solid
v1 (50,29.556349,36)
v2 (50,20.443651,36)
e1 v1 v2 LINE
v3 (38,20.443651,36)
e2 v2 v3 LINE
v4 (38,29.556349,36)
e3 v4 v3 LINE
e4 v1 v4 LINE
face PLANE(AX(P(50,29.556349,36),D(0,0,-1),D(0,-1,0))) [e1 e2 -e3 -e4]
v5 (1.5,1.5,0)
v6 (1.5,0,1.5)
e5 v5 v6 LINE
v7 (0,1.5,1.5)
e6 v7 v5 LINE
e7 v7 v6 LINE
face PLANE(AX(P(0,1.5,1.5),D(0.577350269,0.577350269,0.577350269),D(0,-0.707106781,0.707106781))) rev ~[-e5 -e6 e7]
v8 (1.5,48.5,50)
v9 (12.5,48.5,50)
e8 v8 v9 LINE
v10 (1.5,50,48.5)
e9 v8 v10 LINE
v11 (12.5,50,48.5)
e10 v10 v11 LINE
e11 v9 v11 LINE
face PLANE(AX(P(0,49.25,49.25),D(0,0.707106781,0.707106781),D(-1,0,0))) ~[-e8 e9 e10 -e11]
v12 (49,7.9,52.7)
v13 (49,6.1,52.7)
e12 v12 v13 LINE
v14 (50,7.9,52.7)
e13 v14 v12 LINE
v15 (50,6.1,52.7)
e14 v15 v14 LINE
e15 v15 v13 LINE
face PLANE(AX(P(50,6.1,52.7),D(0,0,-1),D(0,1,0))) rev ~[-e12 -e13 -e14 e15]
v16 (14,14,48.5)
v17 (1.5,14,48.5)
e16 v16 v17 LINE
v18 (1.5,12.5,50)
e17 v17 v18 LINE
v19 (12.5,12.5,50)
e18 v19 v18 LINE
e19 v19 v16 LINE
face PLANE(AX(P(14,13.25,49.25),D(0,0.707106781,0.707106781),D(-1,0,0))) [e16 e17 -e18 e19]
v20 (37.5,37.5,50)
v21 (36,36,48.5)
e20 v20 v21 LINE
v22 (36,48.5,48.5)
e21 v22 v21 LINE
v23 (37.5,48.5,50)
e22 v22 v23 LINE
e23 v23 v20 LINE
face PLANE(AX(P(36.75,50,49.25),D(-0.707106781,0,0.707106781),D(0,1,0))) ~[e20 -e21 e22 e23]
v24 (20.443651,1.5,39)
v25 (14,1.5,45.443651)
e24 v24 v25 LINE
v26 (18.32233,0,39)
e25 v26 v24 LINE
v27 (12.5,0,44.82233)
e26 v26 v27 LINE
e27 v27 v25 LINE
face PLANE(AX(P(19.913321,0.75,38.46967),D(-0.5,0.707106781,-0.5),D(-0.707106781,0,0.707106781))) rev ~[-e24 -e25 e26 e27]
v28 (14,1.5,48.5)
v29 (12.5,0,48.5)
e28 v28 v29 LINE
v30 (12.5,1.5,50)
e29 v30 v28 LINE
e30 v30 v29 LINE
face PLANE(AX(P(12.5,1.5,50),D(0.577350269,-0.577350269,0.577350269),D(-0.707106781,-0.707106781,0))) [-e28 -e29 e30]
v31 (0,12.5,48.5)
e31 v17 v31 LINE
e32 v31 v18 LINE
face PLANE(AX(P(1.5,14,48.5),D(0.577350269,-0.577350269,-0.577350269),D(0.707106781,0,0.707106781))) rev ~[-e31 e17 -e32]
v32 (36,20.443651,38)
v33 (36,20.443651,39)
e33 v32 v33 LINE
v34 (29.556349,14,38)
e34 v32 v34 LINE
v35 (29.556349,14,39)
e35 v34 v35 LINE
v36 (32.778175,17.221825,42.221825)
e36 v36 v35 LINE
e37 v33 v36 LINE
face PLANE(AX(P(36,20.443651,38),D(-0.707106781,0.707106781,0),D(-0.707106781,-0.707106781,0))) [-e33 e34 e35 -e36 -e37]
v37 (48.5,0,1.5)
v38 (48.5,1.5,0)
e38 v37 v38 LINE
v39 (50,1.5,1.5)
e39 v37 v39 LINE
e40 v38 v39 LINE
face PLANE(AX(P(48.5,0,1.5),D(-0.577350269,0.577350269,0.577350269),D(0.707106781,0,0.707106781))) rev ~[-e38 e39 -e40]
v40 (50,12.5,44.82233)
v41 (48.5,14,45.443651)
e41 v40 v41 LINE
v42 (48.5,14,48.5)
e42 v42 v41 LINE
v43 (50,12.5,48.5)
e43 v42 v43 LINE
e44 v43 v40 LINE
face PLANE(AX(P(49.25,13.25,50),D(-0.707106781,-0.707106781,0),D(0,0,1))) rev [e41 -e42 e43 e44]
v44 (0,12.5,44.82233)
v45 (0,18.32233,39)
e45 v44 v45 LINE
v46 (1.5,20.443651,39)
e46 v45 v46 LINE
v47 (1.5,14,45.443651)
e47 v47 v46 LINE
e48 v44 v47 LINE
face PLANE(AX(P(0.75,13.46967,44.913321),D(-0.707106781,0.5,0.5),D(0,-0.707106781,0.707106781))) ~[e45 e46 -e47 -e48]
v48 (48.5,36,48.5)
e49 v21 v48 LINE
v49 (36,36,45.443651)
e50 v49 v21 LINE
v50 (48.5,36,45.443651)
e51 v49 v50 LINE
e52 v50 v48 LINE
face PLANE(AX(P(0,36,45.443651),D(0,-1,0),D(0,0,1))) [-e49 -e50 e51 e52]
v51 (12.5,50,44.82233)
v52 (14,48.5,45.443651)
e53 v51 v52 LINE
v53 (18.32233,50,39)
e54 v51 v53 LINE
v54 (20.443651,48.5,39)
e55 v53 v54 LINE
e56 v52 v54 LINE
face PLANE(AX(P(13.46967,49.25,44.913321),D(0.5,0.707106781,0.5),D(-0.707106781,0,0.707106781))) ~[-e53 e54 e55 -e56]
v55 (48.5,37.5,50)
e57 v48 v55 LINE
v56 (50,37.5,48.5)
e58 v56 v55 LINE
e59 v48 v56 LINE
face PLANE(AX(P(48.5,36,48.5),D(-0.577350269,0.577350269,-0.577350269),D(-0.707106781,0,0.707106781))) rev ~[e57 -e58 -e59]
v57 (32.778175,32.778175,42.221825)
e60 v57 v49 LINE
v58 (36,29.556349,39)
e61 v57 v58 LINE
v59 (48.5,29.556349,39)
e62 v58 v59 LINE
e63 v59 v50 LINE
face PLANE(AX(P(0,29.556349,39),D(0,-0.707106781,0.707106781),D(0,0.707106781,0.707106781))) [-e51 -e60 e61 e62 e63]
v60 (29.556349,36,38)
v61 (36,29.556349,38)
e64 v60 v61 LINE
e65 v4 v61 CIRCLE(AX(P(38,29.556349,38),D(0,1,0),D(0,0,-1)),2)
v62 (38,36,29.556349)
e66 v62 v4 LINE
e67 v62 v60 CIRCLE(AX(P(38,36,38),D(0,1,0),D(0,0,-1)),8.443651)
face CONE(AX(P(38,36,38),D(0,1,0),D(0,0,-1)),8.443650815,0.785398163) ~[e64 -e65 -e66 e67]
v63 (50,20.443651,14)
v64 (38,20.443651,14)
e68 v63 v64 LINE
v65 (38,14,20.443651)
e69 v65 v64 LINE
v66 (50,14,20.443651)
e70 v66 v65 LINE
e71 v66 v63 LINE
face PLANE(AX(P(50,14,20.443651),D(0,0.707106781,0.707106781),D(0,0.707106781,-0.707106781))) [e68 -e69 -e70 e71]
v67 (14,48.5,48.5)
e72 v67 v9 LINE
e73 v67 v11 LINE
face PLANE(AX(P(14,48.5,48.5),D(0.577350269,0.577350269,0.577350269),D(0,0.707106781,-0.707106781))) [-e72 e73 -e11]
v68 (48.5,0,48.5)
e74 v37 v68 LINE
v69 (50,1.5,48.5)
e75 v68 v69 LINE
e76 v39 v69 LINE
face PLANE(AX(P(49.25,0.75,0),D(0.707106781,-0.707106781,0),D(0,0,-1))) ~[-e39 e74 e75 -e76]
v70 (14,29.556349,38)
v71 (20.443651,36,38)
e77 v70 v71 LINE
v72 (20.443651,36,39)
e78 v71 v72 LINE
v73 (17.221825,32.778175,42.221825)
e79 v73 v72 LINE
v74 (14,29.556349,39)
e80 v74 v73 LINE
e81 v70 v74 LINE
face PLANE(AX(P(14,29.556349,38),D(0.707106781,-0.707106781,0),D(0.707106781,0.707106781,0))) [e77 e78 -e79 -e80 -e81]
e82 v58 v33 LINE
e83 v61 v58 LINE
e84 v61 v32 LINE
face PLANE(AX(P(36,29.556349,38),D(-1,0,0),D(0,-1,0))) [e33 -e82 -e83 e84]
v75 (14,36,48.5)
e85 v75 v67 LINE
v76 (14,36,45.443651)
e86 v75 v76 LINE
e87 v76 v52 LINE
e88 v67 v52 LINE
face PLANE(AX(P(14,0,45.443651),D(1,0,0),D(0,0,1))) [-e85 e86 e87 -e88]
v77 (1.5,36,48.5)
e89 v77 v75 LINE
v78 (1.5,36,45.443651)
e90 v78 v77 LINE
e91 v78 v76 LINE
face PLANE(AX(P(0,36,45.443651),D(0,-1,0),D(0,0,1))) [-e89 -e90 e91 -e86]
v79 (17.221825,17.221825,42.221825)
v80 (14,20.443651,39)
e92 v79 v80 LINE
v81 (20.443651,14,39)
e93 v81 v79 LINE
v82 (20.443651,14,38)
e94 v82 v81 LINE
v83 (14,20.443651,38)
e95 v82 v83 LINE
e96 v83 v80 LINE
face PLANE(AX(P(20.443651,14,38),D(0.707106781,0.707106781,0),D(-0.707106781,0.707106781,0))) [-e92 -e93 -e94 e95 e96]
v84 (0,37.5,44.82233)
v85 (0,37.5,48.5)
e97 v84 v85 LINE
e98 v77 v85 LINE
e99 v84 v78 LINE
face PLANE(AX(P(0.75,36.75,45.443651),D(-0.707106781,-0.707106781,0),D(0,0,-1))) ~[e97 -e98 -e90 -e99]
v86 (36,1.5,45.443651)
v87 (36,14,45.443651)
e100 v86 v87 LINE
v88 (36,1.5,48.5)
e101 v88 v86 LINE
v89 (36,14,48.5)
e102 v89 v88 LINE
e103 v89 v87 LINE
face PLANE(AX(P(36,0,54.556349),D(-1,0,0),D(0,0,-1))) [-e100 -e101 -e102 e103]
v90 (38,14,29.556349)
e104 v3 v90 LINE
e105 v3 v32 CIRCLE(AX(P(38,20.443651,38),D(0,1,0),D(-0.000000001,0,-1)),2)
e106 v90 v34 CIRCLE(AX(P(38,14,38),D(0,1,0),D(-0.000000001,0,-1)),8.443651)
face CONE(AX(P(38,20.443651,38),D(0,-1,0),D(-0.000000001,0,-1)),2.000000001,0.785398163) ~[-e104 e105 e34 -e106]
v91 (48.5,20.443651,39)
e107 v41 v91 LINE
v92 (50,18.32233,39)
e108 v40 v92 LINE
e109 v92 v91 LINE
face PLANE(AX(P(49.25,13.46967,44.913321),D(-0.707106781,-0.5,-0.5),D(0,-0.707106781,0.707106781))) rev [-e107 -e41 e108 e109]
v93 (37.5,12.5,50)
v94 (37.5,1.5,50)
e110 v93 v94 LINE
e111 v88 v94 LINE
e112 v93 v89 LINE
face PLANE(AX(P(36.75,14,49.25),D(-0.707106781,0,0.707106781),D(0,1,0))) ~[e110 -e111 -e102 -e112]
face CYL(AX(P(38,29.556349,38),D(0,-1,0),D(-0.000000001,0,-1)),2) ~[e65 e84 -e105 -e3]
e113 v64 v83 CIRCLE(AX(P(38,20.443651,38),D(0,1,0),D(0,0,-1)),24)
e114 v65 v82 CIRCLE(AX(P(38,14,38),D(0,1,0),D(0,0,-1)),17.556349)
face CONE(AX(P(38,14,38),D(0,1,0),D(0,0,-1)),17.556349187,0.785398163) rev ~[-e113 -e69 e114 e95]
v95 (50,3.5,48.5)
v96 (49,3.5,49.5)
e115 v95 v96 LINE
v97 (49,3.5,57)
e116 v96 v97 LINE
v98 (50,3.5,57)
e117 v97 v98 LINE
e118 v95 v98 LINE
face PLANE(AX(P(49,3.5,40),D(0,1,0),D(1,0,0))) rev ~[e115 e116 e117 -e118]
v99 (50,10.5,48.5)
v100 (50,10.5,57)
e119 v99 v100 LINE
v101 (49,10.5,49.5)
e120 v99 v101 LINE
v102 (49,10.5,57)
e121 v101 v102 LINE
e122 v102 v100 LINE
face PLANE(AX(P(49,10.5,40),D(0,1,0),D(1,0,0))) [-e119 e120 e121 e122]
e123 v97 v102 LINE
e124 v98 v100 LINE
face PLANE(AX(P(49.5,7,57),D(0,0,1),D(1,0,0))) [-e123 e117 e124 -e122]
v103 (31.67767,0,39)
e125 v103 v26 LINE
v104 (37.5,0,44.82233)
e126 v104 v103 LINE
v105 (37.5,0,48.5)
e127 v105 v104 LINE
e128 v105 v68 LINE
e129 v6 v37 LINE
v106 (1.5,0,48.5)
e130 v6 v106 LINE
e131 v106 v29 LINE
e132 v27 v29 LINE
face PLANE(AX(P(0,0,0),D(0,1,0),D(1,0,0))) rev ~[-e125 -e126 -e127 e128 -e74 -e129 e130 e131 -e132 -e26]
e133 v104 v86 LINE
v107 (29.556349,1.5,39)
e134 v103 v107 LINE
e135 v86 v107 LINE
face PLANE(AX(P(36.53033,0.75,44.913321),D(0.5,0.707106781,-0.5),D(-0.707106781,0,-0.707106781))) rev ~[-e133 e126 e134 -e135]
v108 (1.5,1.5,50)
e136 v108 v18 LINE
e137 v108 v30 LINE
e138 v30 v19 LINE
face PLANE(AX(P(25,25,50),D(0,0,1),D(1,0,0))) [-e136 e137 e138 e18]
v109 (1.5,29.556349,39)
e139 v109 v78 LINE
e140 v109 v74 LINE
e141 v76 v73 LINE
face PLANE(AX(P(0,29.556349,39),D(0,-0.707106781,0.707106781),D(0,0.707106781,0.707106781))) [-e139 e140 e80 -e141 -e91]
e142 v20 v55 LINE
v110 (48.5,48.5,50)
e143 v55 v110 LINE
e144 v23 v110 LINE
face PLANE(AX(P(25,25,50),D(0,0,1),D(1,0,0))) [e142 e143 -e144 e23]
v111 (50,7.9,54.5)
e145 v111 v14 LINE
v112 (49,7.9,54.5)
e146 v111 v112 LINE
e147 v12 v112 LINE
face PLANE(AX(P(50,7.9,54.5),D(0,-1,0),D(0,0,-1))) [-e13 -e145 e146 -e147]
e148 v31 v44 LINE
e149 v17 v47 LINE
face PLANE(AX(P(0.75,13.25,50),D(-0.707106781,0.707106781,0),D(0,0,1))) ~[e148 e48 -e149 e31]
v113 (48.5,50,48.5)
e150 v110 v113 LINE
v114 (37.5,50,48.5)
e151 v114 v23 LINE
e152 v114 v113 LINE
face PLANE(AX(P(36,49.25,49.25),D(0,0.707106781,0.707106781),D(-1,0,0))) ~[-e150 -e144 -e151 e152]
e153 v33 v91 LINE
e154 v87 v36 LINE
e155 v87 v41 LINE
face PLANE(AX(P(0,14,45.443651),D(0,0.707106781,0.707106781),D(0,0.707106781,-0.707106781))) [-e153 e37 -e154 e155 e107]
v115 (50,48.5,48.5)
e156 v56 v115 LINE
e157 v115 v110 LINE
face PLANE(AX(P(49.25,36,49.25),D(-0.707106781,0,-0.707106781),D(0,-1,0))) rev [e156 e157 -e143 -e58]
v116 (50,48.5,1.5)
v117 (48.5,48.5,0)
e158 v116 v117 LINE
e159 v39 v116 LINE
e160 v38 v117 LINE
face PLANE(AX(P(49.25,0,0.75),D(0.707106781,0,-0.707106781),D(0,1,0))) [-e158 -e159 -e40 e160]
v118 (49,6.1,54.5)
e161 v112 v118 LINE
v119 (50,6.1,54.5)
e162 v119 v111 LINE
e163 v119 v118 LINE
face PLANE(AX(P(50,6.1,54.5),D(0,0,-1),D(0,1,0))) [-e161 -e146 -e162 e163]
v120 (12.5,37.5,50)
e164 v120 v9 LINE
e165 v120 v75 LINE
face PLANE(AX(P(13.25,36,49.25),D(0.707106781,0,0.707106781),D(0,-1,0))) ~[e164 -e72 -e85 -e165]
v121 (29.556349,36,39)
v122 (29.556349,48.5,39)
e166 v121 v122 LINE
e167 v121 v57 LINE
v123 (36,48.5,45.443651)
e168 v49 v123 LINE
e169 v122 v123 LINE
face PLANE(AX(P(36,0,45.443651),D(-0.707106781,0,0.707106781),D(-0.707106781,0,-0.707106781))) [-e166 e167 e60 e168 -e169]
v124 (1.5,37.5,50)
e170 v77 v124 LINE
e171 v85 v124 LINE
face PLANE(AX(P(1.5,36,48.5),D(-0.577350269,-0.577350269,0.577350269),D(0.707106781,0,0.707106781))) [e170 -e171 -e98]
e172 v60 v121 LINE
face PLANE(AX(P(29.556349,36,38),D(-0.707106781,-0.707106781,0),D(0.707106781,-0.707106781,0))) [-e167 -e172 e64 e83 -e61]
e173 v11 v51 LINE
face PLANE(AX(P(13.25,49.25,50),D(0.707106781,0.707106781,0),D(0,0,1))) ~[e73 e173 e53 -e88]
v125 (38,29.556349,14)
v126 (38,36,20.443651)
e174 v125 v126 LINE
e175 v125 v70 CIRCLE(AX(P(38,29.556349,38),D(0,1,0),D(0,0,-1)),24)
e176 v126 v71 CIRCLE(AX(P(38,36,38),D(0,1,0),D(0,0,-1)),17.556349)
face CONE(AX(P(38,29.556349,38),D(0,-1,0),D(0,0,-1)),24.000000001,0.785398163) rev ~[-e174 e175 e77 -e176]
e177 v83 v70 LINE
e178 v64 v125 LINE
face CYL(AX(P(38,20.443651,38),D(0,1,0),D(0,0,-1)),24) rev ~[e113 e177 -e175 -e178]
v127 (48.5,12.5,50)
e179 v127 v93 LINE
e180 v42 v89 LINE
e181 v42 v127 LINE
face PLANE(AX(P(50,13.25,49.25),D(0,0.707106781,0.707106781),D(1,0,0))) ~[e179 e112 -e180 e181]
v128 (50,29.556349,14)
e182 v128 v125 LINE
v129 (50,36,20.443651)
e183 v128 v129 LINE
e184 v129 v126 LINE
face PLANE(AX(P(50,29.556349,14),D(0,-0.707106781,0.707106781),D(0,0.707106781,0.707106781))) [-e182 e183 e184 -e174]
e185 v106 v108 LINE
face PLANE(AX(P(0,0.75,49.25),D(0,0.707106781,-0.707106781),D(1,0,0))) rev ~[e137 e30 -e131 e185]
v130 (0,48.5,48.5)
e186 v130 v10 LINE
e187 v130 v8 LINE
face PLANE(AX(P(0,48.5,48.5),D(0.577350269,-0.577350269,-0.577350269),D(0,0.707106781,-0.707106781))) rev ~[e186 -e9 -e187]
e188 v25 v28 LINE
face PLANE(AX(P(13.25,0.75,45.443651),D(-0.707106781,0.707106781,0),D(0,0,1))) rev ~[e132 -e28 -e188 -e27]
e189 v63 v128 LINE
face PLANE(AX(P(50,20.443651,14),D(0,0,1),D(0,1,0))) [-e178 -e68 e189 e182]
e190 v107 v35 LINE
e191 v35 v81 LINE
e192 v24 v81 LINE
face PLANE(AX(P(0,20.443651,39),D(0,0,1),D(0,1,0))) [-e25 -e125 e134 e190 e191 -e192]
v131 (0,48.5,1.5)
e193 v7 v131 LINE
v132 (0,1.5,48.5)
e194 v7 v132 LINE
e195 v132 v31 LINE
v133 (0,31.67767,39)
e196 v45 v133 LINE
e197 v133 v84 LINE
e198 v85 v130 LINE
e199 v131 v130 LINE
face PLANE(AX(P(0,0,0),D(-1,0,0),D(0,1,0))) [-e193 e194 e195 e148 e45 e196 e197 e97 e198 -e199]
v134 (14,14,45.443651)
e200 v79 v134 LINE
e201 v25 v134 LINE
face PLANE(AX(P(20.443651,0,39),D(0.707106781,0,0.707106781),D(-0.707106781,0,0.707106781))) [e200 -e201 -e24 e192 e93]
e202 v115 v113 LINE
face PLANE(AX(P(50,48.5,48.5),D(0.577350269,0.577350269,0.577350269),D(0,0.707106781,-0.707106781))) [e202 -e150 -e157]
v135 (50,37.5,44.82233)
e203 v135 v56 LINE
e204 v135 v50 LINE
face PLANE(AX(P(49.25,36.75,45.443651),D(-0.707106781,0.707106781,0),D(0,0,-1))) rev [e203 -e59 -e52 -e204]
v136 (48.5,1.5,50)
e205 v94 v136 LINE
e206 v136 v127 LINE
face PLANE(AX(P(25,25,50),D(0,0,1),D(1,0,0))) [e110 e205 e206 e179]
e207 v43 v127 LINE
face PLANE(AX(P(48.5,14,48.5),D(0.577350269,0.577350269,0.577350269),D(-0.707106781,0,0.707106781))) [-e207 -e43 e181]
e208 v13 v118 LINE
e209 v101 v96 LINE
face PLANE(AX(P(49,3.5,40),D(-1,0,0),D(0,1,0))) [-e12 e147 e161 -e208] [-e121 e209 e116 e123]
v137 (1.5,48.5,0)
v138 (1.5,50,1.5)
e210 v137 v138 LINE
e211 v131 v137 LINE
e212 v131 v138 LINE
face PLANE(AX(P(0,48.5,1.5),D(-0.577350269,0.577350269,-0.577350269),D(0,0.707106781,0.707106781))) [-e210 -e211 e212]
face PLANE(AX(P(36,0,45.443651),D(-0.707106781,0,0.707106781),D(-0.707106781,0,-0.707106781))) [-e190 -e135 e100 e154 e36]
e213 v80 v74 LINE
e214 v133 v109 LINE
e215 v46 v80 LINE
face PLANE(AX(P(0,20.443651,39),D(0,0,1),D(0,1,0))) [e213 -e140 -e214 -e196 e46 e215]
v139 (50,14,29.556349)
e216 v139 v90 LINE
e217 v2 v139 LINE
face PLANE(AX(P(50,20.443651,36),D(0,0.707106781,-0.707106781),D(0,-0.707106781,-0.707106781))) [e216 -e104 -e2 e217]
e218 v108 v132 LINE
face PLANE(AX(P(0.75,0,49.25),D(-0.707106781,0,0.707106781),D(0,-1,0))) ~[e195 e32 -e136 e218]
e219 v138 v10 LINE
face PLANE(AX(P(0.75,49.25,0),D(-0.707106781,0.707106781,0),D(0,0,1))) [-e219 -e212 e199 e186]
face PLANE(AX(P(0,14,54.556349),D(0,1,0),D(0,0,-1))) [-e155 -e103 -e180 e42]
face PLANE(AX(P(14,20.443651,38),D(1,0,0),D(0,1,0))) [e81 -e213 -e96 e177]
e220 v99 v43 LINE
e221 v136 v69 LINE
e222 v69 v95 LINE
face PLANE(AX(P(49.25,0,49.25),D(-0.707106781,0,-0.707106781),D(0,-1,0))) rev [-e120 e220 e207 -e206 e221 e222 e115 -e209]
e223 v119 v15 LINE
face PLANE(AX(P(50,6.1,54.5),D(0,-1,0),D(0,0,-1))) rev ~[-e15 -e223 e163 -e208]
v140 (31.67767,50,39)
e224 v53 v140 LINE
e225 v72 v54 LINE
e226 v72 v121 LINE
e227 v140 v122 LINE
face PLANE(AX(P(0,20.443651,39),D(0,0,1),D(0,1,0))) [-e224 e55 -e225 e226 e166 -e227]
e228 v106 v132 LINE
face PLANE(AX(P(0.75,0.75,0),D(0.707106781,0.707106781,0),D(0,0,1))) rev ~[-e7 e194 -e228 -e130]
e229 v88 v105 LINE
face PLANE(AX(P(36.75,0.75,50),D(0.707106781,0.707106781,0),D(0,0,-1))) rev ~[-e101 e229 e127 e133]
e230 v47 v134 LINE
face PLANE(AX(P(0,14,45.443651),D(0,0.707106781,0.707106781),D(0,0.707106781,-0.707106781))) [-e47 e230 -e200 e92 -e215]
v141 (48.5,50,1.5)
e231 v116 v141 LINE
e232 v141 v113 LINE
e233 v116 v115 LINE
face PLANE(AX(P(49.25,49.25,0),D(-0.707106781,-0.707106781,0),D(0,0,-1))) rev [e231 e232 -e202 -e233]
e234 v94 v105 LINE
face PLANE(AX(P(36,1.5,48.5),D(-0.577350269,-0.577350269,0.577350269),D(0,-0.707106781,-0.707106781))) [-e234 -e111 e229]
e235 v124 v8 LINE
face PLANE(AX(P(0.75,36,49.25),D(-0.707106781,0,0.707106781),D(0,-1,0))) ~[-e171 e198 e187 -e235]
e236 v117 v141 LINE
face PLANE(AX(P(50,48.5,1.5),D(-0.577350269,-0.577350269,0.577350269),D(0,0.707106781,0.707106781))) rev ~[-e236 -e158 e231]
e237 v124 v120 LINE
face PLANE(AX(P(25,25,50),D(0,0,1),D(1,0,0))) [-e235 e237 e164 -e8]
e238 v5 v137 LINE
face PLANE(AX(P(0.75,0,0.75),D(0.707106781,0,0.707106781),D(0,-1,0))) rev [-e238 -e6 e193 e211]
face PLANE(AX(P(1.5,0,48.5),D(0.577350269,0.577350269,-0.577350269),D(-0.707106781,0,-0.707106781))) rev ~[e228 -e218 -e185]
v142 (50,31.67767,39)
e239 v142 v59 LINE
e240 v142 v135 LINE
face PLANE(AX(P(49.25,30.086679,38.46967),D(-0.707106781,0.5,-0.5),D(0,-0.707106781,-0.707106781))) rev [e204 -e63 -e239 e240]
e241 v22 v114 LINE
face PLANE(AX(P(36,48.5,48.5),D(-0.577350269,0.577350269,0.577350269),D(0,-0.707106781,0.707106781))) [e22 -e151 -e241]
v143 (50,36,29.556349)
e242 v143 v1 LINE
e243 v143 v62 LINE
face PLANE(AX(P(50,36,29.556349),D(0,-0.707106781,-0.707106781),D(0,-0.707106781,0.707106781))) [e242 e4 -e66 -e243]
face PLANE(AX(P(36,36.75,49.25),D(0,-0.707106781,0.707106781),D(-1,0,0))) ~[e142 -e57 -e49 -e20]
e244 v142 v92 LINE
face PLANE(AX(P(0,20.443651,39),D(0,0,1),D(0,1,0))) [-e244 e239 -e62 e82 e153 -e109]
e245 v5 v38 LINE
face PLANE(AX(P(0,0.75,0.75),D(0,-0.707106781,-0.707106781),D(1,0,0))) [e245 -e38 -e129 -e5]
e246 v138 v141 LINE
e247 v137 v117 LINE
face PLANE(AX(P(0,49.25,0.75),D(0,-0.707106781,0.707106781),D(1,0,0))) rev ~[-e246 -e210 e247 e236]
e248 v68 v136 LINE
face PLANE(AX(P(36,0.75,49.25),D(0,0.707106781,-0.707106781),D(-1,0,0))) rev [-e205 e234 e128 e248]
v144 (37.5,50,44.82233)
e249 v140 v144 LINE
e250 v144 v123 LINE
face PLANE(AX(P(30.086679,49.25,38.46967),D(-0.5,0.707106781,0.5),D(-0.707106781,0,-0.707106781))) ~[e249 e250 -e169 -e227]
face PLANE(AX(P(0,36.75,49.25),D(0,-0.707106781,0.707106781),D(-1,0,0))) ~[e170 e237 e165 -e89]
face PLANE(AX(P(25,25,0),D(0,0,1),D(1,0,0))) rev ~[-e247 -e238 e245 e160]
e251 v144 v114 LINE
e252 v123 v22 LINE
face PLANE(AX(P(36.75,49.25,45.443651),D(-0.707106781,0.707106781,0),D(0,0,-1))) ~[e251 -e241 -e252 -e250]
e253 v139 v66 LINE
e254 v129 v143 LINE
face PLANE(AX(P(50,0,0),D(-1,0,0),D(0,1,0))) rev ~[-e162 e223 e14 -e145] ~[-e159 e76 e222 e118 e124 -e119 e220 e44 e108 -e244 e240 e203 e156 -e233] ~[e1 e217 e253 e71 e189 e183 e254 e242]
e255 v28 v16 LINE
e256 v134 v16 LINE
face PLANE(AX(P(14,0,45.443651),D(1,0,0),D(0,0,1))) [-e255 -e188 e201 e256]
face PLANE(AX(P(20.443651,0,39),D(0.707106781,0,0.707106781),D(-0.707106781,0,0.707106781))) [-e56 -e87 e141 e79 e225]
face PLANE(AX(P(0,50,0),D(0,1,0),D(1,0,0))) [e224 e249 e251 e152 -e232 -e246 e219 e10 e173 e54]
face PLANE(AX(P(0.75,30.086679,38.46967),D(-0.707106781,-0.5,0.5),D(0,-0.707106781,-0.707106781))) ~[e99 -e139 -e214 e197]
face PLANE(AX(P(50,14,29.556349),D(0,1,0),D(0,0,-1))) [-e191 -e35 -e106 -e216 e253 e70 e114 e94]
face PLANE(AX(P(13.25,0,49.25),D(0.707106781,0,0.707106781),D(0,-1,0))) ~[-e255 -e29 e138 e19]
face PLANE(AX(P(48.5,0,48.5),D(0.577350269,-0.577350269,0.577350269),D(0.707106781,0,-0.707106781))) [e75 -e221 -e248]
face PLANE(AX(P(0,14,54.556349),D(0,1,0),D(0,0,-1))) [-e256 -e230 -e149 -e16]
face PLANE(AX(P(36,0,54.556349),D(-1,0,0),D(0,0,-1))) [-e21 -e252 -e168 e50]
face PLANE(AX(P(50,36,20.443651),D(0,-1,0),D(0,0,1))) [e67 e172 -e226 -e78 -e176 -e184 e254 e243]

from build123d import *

# Parameters (mm, degrees)
SKETCH1_W                = 50
SKETCH1_H                = 50
BOSS_EXTRUDE1_DEPTH      = 50
CUT_EXTRUDE3_DEPTH       = 87.602540378
CUT_EXTRUDE4_DEPTH       = 87.602540378
CHAMFER1_SIZE            = 1.5
BOSS_EXTRUDE2_DEPTH      = 7
BOSS_EXTRUDE2_DEPTH_BACK = 10
SKETCH10_W               = 1
SKETCH10_H               = 7
SKETCH11_W               = 1.8
SKETCH11_H               = 1.8
CUT_EXTRUDE5_DEPTH       = 7


with BuildPart() as part:
    # Sketch1 → Boss-Extrude1 (new body)
    with BuildSketch(Plane.XY):
        with Locations((25, 25)):
            Rectangle(SKETCH1_W, SKETCH1_H)
    extrude(amount=BOSS_EXTRUDE1_DEPTH)

    # Sketch2 → Cut-Extrude3 (cut, through all)
    with BuildSketch(Plane.ZX):
        Polygon((61, 29.556349186), (54.556349186, 36), (45.443650814, 36), (39, 29.556349186), (39, 20.443650814), (45.443650814, 14), (54.556349186, 14), (61, 20.443650814), align=None)
    extrude(amount=CUT_EXTRUDE3_DEPTH, mode=Mode.SUBTRACT)

    # Sketch6 → Cut-Extrude4 (cut, through all)
    with BuildSketch(Plane(origin=(0, 0, 0), x_dir=(0, 0, -1), z_dir=(1, 0, 0))):
        Polygon((-61, 29.556349186), (-61, 20.443650814), (-54.556349186, 14), (-45.443650814, 14), (-39, 20.443650814), (-39, 29.556349186), (-45.443650814, 36), (-54.556349186, 36), align=None)
    extrude(amount=CUT_EXTRUDE4_DEPTH, mode=Mode.SUBTRACT)

    # Cut-Sweep5: sweep along a path in Sketch9
    with BuildLine(Plane(origin=(0, 25, 0), x_dir=(-1, 0, 0), z_dir=(0, -1, 0))) as cut_sweep5_path:
        Line((-50, -25), (-38, -25))
        ThreePointArc((-38, -25), (-28.807611845, -28.807611845), (-25, -38))
        Line((-25, -38), (-25, -50))
    # Sketch8 → Cut-Sweep5 (sweep, cut)
    with BuildSketch(Plane(origin=(50, 0, 0), x_dir=(0, 0, -1), z_dir=(1, 0, 0))):
        Polygon((-14, 29.556349186), (-20.443650814, 36), (-29.556349186, 36), (-36, 29.556349186), (-36, 20.443650814), (-29.556349186, 14), (-20.443650814, 14), (-14, 20.443650814), align=None)
    sweep(path=cut_sweep5_path.line, mode=Mode.SUBTRACT)

    # Chamfer1
    chamfer1_edges = [part.edges().sort_by_distance(p)[0] for p in [
        (50, 7, 50),
        (43, 50, 50),
        (43, 0, 50),
        (7, 50, 50),
        (14, 43, 50),
        (36, 7, 50),
        (36, 0, 47.721825407),
        (14, 0, 47.721825407),
        (14, 50, 47.721825407),
        (36, 50, 47.721825407),
        (32.778174593, 50, 42.221825407),
        (17.221825407, 50, 42.221825407),
        (32.778174593, 0, 42.221825407),
        (17.221825407, 0, 42.221825407),
        (0, 43, 50),
        (25, 50, 0),
        (14, 7, 50),
        (50, 25, 0),
        (36, 43, 50),
        (50, 43, 50),
        (25, 0, 0),
        (0, 7, 50),
        (0, 25, 0),
        (50, 36, 47.721825407),
        (50, 14, 47.721825407),
        (50, 17.221825407, 42.221825407),
        (50, 32.778174593, 42.221825407),
        (0, 14, 47.721825407),
        (0, 36, 47.721825407),
        (43, 14, 50),
        (7, 14, 50),
        (0, 17.221825407, 42.221825407),
        (0, 32.778174593, 42.221825407),
        (43, 36, 50),
        (7, 36, 50),
        (7, 0, 50),
        (0, 50, 25),
        (50, 50, 25),
        (50, 0, 25),
        (0, 0, 25),
    ]]
    chamfer(chamfer1_edges, length=CHAMFER1_SIZE)

    # Sketch10 → Boss-Extrude2 (add, two sides: drawn at the far end of the back side and taken through both)
    with BuildSketch(Plane.XY.offset(50).offset(-BOSS_EXTRUDE2_DEPTH_BACK)):
        with Locations((49.5, 7)):
            Rectangle(SKETCH10_W, SKETCH10_H)
    extrude(amount=BOSS_EXTRUDE2_DEPTH + BOSS_EXTRUDE2_DEPTH_BACK)

    # Sketch11 → Cut-Extrude5 (cut)
    with BuildSketch(Plane(origin=(50, 0, 0), x_dir=(0, 0, -1), z_dir=(1, 0, 0))):
        with Locations((-53.6, 7)):
            Rectangle(SKETCH11_W, SKETCH11_H)
    extrude(amount=-CUT_EXTRUDE5_DEPTH, mode=Mode.SUBTRACT)


solid = part.part
